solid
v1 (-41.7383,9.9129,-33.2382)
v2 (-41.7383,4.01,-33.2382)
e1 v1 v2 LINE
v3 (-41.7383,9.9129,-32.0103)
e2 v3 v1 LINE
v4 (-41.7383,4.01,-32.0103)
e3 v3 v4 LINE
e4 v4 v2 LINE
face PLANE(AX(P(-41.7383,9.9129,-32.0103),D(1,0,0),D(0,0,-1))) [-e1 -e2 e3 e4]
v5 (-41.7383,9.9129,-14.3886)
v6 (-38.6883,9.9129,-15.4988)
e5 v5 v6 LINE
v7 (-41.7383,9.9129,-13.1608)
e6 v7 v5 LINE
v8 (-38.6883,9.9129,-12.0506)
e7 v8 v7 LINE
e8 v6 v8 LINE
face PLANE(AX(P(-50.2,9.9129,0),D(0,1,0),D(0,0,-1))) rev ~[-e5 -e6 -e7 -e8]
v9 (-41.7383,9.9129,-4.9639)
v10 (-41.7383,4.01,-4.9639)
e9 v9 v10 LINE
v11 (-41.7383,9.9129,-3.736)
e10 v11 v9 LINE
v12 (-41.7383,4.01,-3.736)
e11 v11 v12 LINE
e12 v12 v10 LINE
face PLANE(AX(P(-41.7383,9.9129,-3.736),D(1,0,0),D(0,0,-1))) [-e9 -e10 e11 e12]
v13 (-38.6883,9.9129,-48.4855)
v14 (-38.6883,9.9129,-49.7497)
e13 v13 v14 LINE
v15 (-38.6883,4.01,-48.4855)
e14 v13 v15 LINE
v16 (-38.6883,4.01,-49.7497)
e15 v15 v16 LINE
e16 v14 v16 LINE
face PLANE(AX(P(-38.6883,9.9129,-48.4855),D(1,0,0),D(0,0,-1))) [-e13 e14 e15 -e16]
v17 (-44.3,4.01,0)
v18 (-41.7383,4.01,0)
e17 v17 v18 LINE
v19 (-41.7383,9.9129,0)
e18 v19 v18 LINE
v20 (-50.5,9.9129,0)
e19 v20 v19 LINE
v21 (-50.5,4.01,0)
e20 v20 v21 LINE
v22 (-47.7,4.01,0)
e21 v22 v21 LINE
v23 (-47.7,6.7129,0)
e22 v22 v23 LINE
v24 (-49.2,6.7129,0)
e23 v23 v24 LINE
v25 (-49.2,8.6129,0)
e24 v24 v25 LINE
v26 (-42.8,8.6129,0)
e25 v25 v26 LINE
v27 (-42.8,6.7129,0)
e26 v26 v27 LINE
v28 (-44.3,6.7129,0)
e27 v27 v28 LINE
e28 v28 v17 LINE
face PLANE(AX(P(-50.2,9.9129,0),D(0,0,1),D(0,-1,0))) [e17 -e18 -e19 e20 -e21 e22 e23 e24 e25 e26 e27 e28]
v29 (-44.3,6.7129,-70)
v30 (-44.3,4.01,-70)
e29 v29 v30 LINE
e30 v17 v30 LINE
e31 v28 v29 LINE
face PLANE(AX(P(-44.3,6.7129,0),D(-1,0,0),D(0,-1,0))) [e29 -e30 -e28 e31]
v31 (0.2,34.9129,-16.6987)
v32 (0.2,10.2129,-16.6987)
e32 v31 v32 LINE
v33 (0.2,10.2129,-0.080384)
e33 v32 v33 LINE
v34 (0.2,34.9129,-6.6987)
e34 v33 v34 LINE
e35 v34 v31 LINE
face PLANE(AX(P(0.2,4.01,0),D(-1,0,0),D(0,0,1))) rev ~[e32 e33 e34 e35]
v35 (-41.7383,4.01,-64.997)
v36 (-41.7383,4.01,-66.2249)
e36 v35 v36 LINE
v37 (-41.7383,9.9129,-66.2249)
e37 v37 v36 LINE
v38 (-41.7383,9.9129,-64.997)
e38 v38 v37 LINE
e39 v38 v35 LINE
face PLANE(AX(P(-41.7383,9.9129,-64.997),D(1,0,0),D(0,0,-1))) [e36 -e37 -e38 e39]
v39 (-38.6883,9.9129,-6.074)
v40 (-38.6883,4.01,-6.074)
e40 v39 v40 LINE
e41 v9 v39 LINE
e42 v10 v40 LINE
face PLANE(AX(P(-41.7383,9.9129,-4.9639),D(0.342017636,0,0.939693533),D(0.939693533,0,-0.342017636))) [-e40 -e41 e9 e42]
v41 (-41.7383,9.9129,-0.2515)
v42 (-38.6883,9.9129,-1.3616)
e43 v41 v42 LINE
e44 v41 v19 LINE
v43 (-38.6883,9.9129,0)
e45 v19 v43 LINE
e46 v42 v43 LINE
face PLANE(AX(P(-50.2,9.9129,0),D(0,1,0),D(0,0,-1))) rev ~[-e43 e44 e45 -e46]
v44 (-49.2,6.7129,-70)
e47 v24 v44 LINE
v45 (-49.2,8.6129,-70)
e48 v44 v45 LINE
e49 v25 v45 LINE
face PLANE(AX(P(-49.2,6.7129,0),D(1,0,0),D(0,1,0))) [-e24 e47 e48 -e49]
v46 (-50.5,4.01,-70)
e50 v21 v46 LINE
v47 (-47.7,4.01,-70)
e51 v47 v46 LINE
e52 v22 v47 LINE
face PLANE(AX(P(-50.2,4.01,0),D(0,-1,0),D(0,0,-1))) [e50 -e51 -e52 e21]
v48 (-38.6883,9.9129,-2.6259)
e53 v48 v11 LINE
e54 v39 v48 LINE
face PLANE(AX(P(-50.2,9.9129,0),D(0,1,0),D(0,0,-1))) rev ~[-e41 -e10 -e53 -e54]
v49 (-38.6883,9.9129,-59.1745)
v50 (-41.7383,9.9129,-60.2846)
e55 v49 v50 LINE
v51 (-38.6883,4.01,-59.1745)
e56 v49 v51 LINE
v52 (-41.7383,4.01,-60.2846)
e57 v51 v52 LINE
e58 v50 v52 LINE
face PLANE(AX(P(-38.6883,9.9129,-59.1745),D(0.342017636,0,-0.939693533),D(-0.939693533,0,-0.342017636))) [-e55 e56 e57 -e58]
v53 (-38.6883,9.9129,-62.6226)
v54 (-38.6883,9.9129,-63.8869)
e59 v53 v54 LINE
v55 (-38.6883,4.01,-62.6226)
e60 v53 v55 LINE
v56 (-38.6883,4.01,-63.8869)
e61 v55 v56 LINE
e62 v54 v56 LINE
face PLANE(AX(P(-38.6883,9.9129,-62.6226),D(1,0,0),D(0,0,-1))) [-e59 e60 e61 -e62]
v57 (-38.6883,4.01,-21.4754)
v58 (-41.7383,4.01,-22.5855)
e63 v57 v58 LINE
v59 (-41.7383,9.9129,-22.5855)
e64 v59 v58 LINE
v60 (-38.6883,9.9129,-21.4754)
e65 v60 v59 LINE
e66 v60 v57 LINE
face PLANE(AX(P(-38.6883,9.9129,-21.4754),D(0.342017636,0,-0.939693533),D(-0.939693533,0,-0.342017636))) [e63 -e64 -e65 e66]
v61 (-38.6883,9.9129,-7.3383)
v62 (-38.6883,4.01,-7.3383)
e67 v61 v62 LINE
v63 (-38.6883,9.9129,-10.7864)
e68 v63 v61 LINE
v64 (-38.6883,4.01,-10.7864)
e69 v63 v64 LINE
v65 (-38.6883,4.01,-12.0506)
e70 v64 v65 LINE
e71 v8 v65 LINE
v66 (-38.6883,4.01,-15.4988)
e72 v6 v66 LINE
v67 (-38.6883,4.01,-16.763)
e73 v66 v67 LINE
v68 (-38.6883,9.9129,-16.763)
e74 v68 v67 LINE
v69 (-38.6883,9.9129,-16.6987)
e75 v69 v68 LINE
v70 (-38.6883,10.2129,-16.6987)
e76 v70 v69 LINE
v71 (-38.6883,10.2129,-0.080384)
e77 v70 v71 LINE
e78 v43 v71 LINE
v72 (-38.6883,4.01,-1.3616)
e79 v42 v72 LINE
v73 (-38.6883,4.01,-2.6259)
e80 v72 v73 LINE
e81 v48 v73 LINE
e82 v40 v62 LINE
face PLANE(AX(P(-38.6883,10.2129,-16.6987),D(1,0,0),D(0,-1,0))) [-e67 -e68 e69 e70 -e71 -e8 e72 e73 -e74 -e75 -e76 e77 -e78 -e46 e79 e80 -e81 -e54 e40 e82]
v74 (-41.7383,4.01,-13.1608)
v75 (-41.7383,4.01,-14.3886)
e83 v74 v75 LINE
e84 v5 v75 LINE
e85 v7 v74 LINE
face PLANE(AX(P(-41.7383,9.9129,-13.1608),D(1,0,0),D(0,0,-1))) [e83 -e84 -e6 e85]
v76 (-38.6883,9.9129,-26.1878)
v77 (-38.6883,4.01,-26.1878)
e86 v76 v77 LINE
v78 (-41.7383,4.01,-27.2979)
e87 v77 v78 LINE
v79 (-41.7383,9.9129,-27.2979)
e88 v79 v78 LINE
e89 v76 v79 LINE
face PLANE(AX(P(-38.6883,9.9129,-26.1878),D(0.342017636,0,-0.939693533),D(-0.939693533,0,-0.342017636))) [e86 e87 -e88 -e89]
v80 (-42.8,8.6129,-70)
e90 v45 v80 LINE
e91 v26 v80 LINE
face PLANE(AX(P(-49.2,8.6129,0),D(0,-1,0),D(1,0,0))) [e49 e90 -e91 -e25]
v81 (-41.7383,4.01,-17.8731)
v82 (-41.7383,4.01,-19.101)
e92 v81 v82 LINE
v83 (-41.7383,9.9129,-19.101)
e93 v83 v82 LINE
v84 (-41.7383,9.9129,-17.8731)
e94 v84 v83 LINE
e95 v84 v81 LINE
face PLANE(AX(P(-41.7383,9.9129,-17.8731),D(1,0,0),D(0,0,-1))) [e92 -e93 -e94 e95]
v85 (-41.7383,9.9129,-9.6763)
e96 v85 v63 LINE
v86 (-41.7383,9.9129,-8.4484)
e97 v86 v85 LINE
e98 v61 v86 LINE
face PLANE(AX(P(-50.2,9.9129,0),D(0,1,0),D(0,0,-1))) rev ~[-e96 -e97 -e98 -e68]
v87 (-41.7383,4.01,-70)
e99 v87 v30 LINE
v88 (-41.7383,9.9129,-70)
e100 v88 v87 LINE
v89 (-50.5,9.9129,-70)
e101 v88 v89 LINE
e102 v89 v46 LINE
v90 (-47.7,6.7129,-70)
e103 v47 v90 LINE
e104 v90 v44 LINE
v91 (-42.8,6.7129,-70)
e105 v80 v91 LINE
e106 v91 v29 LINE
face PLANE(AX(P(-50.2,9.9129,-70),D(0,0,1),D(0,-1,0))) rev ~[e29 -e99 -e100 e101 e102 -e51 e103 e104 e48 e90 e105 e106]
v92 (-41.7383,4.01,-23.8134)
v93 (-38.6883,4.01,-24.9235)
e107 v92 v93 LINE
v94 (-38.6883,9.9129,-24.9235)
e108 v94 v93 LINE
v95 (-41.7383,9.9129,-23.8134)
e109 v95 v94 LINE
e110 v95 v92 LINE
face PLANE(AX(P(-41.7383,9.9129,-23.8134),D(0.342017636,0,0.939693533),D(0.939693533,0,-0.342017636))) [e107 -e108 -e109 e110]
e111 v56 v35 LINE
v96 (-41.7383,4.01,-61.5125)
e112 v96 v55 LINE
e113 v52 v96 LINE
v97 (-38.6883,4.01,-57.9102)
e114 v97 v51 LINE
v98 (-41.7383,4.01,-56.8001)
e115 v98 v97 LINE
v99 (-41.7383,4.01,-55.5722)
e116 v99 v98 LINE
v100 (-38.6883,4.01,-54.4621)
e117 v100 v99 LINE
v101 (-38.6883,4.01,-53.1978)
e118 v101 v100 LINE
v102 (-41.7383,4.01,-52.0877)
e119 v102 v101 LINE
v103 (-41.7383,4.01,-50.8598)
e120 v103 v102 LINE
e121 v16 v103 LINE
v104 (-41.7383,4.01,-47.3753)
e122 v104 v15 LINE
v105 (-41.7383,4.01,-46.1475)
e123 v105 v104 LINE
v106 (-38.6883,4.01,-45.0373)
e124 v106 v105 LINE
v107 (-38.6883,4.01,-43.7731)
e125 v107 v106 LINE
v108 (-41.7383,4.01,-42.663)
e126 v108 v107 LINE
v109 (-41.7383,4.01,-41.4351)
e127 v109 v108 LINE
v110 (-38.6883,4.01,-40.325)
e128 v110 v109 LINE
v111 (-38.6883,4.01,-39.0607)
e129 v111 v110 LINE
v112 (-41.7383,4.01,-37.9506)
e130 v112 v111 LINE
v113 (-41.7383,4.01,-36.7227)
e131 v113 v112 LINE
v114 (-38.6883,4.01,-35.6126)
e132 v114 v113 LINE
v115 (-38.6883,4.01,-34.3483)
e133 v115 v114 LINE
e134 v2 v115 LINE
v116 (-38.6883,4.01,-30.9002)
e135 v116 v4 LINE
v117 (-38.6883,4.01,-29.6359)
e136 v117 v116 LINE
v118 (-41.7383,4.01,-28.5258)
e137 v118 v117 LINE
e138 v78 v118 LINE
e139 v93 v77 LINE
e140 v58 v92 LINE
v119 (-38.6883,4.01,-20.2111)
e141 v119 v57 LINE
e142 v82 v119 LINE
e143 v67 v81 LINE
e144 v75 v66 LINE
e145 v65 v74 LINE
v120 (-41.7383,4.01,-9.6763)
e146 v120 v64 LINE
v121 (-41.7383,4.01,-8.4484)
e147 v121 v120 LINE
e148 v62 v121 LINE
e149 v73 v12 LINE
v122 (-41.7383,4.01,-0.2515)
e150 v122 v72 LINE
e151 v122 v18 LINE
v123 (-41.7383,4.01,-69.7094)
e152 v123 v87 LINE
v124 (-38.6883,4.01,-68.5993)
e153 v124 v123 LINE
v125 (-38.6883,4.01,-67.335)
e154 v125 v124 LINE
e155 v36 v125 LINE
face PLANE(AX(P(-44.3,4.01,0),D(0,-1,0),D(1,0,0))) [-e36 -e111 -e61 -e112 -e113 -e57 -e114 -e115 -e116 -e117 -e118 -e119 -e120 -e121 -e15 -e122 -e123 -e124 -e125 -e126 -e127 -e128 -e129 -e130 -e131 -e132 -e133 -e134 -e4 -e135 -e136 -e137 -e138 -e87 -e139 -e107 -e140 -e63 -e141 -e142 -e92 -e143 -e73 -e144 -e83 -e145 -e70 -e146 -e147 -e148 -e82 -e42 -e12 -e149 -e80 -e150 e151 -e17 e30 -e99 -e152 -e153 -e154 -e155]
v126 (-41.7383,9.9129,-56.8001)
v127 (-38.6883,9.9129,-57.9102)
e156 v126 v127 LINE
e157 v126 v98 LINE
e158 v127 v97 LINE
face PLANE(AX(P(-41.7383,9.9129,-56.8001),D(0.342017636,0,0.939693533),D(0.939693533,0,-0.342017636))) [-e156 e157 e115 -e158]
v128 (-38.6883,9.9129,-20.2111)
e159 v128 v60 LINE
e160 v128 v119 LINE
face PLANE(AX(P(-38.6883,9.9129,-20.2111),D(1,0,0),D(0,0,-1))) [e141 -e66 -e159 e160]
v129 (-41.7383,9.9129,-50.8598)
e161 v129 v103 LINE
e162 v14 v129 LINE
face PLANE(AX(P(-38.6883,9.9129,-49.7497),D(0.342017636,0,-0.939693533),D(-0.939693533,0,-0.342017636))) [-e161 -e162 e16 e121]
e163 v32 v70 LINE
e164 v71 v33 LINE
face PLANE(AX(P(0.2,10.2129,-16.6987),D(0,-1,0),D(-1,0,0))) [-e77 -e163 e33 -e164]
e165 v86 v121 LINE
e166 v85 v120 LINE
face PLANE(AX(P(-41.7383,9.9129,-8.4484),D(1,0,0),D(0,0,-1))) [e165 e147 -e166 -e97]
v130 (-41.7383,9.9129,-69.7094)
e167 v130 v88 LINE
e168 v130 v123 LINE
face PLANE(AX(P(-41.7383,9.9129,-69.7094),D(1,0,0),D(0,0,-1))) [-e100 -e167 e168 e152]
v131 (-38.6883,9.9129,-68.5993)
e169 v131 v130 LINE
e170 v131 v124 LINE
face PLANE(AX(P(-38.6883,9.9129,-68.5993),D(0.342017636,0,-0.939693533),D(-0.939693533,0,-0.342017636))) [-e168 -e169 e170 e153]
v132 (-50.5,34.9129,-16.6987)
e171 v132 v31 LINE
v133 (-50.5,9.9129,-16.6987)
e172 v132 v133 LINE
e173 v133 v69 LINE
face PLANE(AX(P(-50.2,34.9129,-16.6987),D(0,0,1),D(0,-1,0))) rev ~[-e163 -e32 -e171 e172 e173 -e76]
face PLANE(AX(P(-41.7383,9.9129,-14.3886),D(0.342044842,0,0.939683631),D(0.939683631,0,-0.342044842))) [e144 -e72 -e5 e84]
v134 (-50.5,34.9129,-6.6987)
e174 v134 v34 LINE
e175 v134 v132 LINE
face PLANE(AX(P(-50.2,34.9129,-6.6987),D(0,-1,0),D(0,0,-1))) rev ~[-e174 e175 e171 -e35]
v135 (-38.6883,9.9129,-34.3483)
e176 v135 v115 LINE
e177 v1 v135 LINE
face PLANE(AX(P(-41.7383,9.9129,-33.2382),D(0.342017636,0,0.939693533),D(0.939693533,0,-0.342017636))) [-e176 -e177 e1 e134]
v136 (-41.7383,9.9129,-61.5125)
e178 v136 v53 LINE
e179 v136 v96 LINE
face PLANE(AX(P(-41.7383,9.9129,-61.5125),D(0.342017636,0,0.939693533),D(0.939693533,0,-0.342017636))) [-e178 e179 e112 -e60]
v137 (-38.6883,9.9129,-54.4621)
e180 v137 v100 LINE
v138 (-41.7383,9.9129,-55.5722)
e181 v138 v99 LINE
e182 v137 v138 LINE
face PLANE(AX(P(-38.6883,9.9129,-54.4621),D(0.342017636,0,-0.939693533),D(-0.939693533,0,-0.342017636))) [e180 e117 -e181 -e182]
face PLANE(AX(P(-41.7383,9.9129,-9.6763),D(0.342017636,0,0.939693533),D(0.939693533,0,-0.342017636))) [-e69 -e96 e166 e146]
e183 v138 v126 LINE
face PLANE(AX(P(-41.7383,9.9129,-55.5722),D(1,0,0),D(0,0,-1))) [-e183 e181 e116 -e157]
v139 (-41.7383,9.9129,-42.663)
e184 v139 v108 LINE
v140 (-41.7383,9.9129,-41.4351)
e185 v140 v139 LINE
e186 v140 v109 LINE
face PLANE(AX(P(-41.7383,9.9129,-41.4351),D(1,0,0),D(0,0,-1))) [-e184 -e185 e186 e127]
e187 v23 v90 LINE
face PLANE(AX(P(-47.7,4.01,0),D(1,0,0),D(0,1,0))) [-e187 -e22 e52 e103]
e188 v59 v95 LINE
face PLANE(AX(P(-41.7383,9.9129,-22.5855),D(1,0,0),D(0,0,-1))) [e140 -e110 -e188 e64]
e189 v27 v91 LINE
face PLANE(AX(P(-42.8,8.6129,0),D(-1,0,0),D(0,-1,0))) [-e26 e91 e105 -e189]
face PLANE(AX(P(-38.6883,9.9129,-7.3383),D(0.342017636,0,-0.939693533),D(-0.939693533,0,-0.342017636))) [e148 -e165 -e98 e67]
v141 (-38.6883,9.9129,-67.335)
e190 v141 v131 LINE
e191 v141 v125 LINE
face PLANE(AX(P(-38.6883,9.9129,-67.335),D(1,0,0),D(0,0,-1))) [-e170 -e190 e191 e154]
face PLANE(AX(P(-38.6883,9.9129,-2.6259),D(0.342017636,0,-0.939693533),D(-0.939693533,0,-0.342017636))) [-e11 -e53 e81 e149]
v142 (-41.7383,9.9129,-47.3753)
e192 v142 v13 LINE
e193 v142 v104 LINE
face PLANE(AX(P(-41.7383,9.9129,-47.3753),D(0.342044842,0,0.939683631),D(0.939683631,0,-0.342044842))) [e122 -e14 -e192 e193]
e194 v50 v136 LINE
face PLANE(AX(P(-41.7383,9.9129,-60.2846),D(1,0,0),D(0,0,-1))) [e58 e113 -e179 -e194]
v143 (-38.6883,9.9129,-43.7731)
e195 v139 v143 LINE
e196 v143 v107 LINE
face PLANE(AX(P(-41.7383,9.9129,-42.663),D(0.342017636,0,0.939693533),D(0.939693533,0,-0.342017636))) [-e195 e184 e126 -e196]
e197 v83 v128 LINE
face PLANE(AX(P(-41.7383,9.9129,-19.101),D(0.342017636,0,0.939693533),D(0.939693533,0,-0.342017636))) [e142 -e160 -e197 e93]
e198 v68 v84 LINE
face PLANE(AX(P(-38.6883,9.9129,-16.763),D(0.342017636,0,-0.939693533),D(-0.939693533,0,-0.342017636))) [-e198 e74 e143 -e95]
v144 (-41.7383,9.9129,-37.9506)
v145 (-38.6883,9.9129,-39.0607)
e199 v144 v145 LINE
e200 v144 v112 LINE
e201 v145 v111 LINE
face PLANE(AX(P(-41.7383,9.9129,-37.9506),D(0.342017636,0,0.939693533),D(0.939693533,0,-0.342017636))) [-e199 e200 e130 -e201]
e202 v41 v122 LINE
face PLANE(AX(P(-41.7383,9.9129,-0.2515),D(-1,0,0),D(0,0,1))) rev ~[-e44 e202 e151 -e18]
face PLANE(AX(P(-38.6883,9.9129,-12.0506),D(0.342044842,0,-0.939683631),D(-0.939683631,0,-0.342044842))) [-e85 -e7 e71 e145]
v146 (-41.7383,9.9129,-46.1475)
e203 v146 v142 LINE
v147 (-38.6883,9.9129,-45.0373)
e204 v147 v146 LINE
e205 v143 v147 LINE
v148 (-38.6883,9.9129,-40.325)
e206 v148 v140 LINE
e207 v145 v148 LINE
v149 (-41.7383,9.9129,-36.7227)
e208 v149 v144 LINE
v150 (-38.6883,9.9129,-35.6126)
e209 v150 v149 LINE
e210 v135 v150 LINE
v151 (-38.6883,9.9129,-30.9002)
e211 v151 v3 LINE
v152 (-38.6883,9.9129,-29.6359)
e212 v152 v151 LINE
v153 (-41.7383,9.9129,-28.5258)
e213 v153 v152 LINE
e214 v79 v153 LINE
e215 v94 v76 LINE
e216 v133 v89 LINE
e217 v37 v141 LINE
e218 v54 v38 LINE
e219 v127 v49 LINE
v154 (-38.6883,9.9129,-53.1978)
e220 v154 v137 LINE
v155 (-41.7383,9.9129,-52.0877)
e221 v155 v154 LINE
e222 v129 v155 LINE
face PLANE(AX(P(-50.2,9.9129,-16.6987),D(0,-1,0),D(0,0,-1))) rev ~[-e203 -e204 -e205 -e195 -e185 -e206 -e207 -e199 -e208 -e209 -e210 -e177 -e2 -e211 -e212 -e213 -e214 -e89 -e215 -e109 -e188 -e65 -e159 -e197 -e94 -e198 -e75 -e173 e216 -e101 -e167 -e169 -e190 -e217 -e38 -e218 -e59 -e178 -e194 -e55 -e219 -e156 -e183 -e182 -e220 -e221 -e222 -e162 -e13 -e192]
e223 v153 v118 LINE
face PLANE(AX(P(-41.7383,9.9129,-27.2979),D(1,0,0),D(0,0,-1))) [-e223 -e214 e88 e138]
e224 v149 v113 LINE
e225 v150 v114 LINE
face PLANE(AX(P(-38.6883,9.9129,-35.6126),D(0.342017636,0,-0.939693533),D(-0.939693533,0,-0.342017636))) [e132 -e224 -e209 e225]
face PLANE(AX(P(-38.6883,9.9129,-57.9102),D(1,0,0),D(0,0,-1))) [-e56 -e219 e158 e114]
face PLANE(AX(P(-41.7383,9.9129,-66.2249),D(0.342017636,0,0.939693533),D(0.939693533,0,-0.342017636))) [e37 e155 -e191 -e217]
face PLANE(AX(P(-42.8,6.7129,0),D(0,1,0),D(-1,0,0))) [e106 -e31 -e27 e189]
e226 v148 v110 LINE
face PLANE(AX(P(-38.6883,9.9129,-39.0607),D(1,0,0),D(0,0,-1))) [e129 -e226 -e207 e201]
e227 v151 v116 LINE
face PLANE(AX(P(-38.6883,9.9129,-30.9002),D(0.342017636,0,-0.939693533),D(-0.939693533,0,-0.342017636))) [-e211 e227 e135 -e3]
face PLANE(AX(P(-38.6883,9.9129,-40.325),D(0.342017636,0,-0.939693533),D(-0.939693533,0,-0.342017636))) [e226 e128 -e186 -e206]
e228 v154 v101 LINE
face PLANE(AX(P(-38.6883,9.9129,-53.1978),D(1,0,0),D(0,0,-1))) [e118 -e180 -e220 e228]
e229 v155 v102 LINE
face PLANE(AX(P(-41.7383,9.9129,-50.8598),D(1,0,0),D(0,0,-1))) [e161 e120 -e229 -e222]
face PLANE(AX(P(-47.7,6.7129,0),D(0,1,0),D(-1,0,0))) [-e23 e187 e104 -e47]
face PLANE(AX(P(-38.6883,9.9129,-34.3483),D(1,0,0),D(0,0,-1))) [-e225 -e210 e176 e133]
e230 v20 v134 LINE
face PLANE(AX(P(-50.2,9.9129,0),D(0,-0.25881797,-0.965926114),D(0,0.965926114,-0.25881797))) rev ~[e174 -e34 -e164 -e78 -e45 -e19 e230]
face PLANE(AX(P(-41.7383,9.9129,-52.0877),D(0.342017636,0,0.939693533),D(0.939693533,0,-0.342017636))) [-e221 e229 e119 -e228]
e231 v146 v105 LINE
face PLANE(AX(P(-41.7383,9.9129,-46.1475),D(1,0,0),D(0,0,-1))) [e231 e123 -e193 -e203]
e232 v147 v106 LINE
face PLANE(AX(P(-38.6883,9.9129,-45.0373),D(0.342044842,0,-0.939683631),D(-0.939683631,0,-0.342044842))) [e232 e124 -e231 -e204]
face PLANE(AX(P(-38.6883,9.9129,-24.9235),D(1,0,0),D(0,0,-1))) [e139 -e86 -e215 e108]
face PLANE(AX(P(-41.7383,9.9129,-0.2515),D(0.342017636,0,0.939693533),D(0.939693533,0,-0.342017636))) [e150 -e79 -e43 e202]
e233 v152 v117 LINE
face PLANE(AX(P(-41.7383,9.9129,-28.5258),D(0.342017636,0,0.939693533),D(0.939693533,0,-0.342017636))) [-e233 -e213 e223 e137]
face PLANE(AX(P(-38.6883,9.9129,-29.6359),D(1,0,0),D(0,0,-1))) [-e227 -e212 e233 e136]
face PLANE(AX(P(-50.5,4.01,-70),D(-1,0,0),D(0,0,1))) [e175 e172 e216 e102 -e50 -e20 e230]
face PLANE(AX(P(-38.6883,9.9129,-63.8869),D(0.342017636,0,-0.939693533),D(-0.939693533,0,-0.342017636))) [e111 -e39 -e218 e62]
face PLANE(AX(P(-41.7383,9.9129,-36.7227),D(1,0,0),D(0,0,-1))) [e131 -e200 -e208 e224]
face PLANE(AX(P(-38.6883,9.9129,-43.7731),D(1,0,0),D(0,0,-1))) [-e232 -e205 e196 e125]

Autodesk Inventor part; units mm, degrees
ref_plane "YZ Plane" through (0, 0, 0) normal (1, 0, 0) x (0, 1, 0)
ref_plane "XZ Plane" through (0, 0, 0) normal (0, 1, 0) x (-1, 0, 0)
sketch "草圖1" plane through (0, 0, 0) normal (0, 0, 1) x (1, 0, 0)
  line L0 (0, -4.2926) -> (-50, -4.2926) projected
  line L1 (0, -4.2926) -> (0, 3.81) projected
  line L2 (0, 3.81) -> (-2.5, 3.81) projected
  line L3 (-2.5, 3.81) -> (-2.5, 6.9129) projected
  line L4 (-2.5, 6.9129) -> (-1, 6.9129) projected
  line L5 (-1, 6.9129) -> (-1, 8.4129) projected
  line L6 (-1, 8.4129) -> (-7, 8.4129) projected
  line L7 (-7, 8.4129) -> (-7, 6.9129) projected
  line L8 (-7, 6.9129) -> (-5.5, 6.9129) projected
  line L9 (-5.5, 6.9129) -> (-5.5, 3.81) projected
  line L10 (-5.5, 3.81) -> (-44.5, 3.81) projected
  line L11 (-44.5, 3.81) -> (-44.5, 6.9129) projected
  line L12 (-44.5, 6.9129) -> (-43, 6.9129) projected
  line L13 (-43, 6.9129) -> (-43, 8.4129) projected
  line L14 (-43, 8.4129) -> (-49, 8.4129) projected
  line L15 (-49, 8.4129) -> (-49, 6.9129) projected
  line L16 (-49, 6.9129) -> (-47.5, 6.9129) projected
  line L17 (-47.5, 6.9129) -> (-47.5, 3.81) projected
  line L18 (-47.5, 3.81) -> (-50, 3.81) projected
  line L19 (-50, -4.2926) -> (-50, 3.81) projected
  line L20 (-44.3, 6.7129) -> (-44.3, 4.01)
  line L21 (-44.3, 4.01) -> (-5.7, 4.01)
  line L22 (-5.7, 4.01) -> (-5.7, 6.7129)
  line L23 (-5.7, 6.7129) -> (-7.2, 6.7129)
  line L24 (-7.2, 6.7129) -> (-7.2, 8.6129)
  line L25 (-7.2, 8.6129) -> (-0.8, 8.6129)
  line L26 (-0.8, 8.6129) -> (-0.8, 6.7129)
  line L27 (-0.8, 6.7129) -> (-2.3, 6.7129)
  line L28 (-2.3, 6.7129) -> (-2.3, 4.01)
  line L29 (-2.3, 4.01) -> (0.2, 4.01)
  line L30 (0.2, 4.01) -> (0.2, -4.4926)
  line L31 (0.2, -4.4926) -> (-50.2, -4.4926)
  line L32 (-50.2, -4.4926) -> (-50.2, 4.01)
  line L33 (-50.2, 4.01) -> (-47.7, 4.01)
  line L34 (-47.7, 4.01) -> (-47.7, 6.7129)
  line L35 (-47.7, 6.7129) -> (-49.2, 6.7129)
  line L36 (-49.2, 6.7129) -> (-49.2, 8.6129)
  line L37 (-49.2, 8.6129) -> (-42.8, 8.6129)
  line L38 (-42.8, 8.6129) -> (-42.8, 6.7129)
  line L39 (-42.8, 6.7129) -> (-44.3, 6.7129)
  line L40 (-50.2, 4.01) -> (-50.2, 9.9129)
  line L41 (-50.2, 9.9129) -> (-41.8, 9.9129)
  line L42 (-41.8, 9.9129) -> (-41.8, 4.01)
  line L43 (-41.8, 6.7405) -> (-41.8, 4.0405)
  point P0 (0, 0)
  point P1 (-41.8, 5.3905)
  dimension "d0" = 0.2
  dimension "d3" = 1
  dimension "d4" = 1.3
ref_plane "工作平面1" through (-50, -4.2926, -70) normal (0, 0, -1) x (0, 1, 0)
extrude "擠出1" add sketch "草圖1" against normal up to surface (70 mm away) contours L39 L38 L37 L36 L35 L34 L33 L40 L41 L42 L21 L20
sketch "草圖2" plane through (-50.2, 9.9129, 0) normal (0, 1, 0) x (1, 0, 0)
  line L0 (8.4617, 19.101) -> (11.5117, 20.2111)
  line L1 (11.5117, 20.2111) -> (11.5117, 21.4754)
  line L2 (11.5117, 21.4754) -> (8.4617, 22.5855)
  line L3 (8.4617, 22.5855) -> (8.4617, 23.8134)
  line L4 (8.4617, 23.8134) -> (11.5117, 24.9235)
  line L5 (11.5117, 24.9235) -> (11.5117, 26.1878)
  line L6 (11.5117, 26.1878) -> (8.4617, 27.2979)
  line L7 (8.4617, 27.2979) -> (8.4617, 28.5258)
  line L8 (8.4617, 28.5258) -> (11.5117, 29.6359)
  line L9 (11.5117, 29.6359) -> (11.5117, 30.9002)
  line L10 (11.5117, 30.9002) -> (8.4617, 32.0103)
  line L11 (8.4617, 32.0103) -> (8.4617, 33.2382)
  line L12 (8.4617, 33.2382) -> (11.5117, 34.3483)
  line L13 (11.5117, 34.3483) -> (11.5117, 35.6126)
  line L14 (11.5117, 35.6126) -> (8.4617, 36.7227)
  line L15 (8.4617, 36.7227) -> (8.4617, 37.9506)
  line L16 (8.4617, 37.9506) -> (11.5117, 39.0607)
  line L17 (11.5117, 39.0607) -> (11.5117, 40.325)
  line L18 (11.5117, 40.325) -> (8.4617, 41.4351)
  line L19 (8.4617, 41.4351) -> (8.4617, 42.663)
  line L20 (8.4617, 42.663) -> (11.5117, 43.7731)
  line L21 (11.5117, 43.7731) -> (11.5117, 45.0373)
  line L22 (11.5117, 45.0373) -> (8.4617, 46.1475)
  line L23 (8.4617, 46.1475) -> (8.4617, 47.3753)
  line L24 (8.4617, 47.3753) -> (11.5117, 48.4855)
  line L25 (11.5117, 48.4855) -> (11.5117, 49.7497)
  line L26 (11.5117, 49.7497) -> (8.4617, 50.8598)
  circle A0 centre (25.2, 35) radius 1.15 projected
  spline S0 degree 3 poles (28.303, 18.8298) (28.3918, 19.076) (28.7004, 19.9315) (28.7388, 21.2949) (28.6496, 21.419) (28.6524, 21.7961) (28.6611, 21.9313) (28.7622, 22.2015) (28.8309, 22.282) (28.9256, 22.387) (29.0049, 22.4333) (29.139, 22.5114) (29.2816, 22.5522) (29.5147, 22.6052) (29.6038, 22.5977) (29.679, 22.5914) (29.7699, 22.5777) (29.9387, 22.4894) (30.0374, 22.4306) (30.278, 22.1628) (30.3615, 21.9889) (30.5339, 21.6254) (30.761, 21.3363) (31.4807, 20.5784) (31.9907, 20.2322) (32.1942, 20.0941) knots 0 0 0 0 0.078525 0.078525 0.123346 0.123346 0.136441 0.136441 0.149096 0.149096 0.177084 0.177084 0.558526 0.558526 0.807734 0.807734 2.330173 2.330173 3.026337 3.026337 3.902772 3.902772 11.004243 11.004243 24.626338 24.626338 24.626338 24.626338 projected
  arc A1 (32.1942, 20.0941) -> (33.148, 20.5801) centre (25.2, 35) ccw projected
  spline S1 degree 3 poles (33.148, 20.5801) (33.1564, 20.8417) (33.1855, 21.7507) (32.8007, 23.0592) (32.6775, 23.1497) (32.5637, 23.5092) (32.5301, 23.6405) (32.5428, 23.9287) (32.5833, 24.0265) (32.6409, 24.1556) (32.702, 24.2241) (32.8054, 24.3399) (32.9285, 24.4227) (33.1337, 24.5452) (33.2208, 24.5656) (33.2942, 24.5828) (33.3849, 24.5979) (33.5727, 24.566) (33.6848, 24.5406) (33.9964, 24.3602) (34.1295, 24.2207) (34.4058, 23.9282) (34.7112, 23.7235) (35.6298, 23.2251) (36.2218, 23.0535) (36.458, 22.985) knots 0 0 0 0 0.078525 0.078525 0.123346 0.123346 0.136441 0.136441 0.149096 0.149096 0.177084 0.177084 0.558526 0.558526 0.807734 0.807734 2.330173 2.330173 3.026337 3.026337 3.902772 3.902772 11.004243 11.004243 24.626338 24.626338 24.626338 24.626338 projected
  arc A2 (36.458, 22.985) -> (37.215, 23.742) centre (25.2, 35) ccw projected
  spline S2 degree 3 poles (37.215, 23.742) (37.1421, 23.9934) (36.889, 24.8668) (36.1186, 25.9924) (35.9735, 26.0404) (35.7541, 26.3471) (35.6817, 26.4616) (35.6047, 26.7396) (35.6129, 26.8451) (35.6278, 26.9857) (35.6648, 27.0698) (35.7273, 27.2118) (35.8188, 27.3286) (35.9762, 27.5085) (36.0526, 27.5549) (36.1172, 27.5939) (36.1988, 27.6363) (36.3872, 27.664) (36.5016, 27.6744) (36.8537, 27.5992) (37.0234, 27.5077) (37.3766, 27.3148) (37.7303, 27.2145) (38.758, 27.0244) (39.3741, 27.0441) (39.6199, 27.052) knots 0 0 0 0 0.078525 0.078525 0.123346 0.123346 0.136441 0.136441 0.149096 0.149096 0.177084 0.177084 0.558526 0.558526 0.807734 0.807734 2.330173 2.330173 3.026337 3.026337 3.902772 3.902772 11.004243 11.004243 24.626338 24.626338 24.626338 24.626338 projected
  arc A3 (39.6199, 27.052) -> (40.1059, 28.0058) centre (25.2, 35) ccw projected
  spline S3 degree 3 poles (40.1059, 28.0058) (39.9589, 28.2224) (39.4482, 28.9749) (38.3677, 29.8073) (38.2149, 29.8081) (37.9115, 30.032) (37.8072, 30.1185) (37.648, 30.3591) (37.6233, 30.462) (37.594, 30.6003) (37.6032, 30.6917) (37.6187, 30.8461) (37.6696, 30.9855) (37.7637, 31.2052) (37.8221, 31.2729) (37.8714, 31.33) (37.9359, 31.3955) (38.1066, 31.4801) (38.2122, 31.5254) (38.5703, 31.5626) (38.76, 31.528) (39.1555, 31.4538) (39.5228, 31.4677) (40.559, 31.6044) (41.1388, 31.8135) (41.3702, 31.897) knots 0 0 0 0 0.078525 0.078525 0.123346 0.123346 0.136441 0.136441 0.149096 0.149096 0.177084 0.177084 0.558526 0.558526 0.807734 0.807734 2.330173 2.330173 3.026337 3.026337 3.902772 3.902772 11.004243 11.004243 24.626338 24.626338 24.626338 24.626338 projected
  arc A4 (41.3702, 31.897) -> (41.5376, 32.9543) centre (25.2, 35) ccw projected
  spline S4 degree 3 poles (41.5376, 32.9543) (41.3309, 33.1148) (40.6127, 33.6727) (39.3279, 34.1305) (39.1823, 34.0841) (38.8245, 34.2032) (38.6986, 34.2532) (38.4729, 34.4329) (38.4176, 34.5231) (38.3469, 34.6456) (38.3275, 34.7353) (38.2946, 34.887) (38.2999, 35.0353) (38.3215, 35.2733) (38.3561, 35.3558) (38.3854, 35.4253) (38.4264, 35.5076) (38.5627, 35.6407) (38.6491, 35.7164) (38.9781, 35.8625) (39.1693, 35.8882) (39.5683, 35.9398) (39.9134, 36.0665) (40.8566, 36.5168) (41.3434, 36.8949) (41.5376, 37.0457) knots 0 0 0 0 0.078525 0.078525 0.123346 0.123346 0.136441 0.136441 0.149096 0.149096 0.177084 0.177084 0.558526 0.558526 0.807734 0.807734 2.330173 2.330173 3.026337 3.026337 3.902772 3.902772 11.004243 11.004243 24.626338 24.626338 24.626338 24.626338 projected
  arc A5 (41.5376, 37.0457) -> (41.3702, 38.103) centre (25.2, 35) ccw projected
  spline S5 degree 3 poles (41.3702, 38.103) (41.124, 38.1918) (40.2685, 38.5004) (38.9051, 38.5388) (38.781, 38.4496) (38.4039, 38.4524) (38.2687, 38.4611) (37.9985, 38.5622) (37.918, 38.6309) (37.813, 38.7256) (37.7667, 38.8049) (37.6886, 38.939) (37.6478, 39.0816) (37.5948, 39.3147) (37.6023, 39.4038) (37.6086, 39.479) (37.6223, 39.5699) (37.7106, 39.7387) (37.7694, 39.8374) (38.0372, 40.078) (38.2111, 40.1615) (38.5746, 40.3339) (38.8637, 40.561) (39.6216, 41.2807) (39.9678, 41.7907) (40.1059, 41.9942) knots 0 0 0 0 0.078525 0.078525 0.123346 0.123346 0.136441 0.136441 0.149096 0.149096 0.177084 0.177084 0.558526 0.558526 0.807734 0.807734 2.330173 2.330173 3.026337 3.026337 3.902772 3.902772 11.004243 11.004243 24.626338 24.626338 24.626338 24.626338 projected
  arc A6 (40.1059, 41.9942) -> (39.6199, 42.948) centre (25.2, 35) ccw projected
  spline S6 degree 3 poles (39.6199, 42.948) (39.3583, 42.9564) (38.4493, 42.9855) (37.1408, 42.6007) (37.0503, 42.4775) (36.6908, 42.3637) (36.5595, 42.3301) (36.2713, 42.3428) (36.1735, 42.3833) (36.0444, 42.4409) (35.9759, 42.502) (35.8601, 42.6054) (35.7773, 42.7285) (35.6548, 42.9337) (35.6344, 43.0208) (35.6172, 43.0942) (35.6021, 43.1849) (35.634, 43.3727) (35.6594, 43.4848) (35.8398, 43.7964) (35.9793, 43.9295) (36.2718, 44.2058) (36.4765, 44.5112) (36.9749, 45.4298) (37.1465, 46.0218) (37.215, 46.258) knots 0 0 0 0 0.078525 0.078525 0.123346 0.123346 0.136441 0.136441 0.149096 0.149096 0.177084 0.177084 0.558526 0.558526 0.807734 0.807734 2.330173 2.330173 3.026337 3.026337 3.902772 3.902772 11.004243 11.004243 24.626338 24.626338 24.626338 24.626338 projected
  arc A7 (37.215, 46.258) -> (36.458, 47.015) centre (25.2, 35) ccw projected
  spline S7 degree 3 poles (36.458, 47.015) (36.2066, 46.9421) (35.3332, 46.689) (34.2076, 45.9186) (34.1596, 45.7735) (33.8529, 45.5541) (33.7384, 45.4817) (33.4604, 45.4047) (33.3549, 45.4129) (33.2143, 45.4278) (33.1302, 45.4648) (32.9882, 45.5273) (32.8714, 45.6188) (32.6915, 45.7762) (32.6451, 45.8526) (32.6061, 45.9172) (32.5637, 45.9988) (32.536, 46.1872) (32.5256, 46.3016) (32.6008, 46.6537) (32.6923, 46.8234) (32.8852, 47.1766) (32.9855, 47.5303) (33.1756, 48.558) (33.1559, 49.1741) (33.148, 49.4199) knots 0 0 0 0 0.078525 0.078525 0.123346 0.123346 0.136441 0.136441 0.149096 0.149096 0.177084 0.177084 0.558526 0.558526 0.807734 0.807734 2.330173 2.330173 3.026337 3.026337 3.902772 3.902772 11.004242 11.004242 24.626338 24.626338 24.626338 24.626338 projected
  arc A8 (33.148, 49.4199) -> (32.1942, 49.9059) centre (25.2, 35) ccw projected
  spline S8 degree 3 poles (32.1942, 49.9059) (31.9776, 49.7589) (31.2251, 49.2482) (30.3927, 48.1677) (30.3919, 48.0149) (30.168, 47.7115) (30.0815, 47.6072) (29.8409, 47.448) (29.738, 47.4233) (29.5997, 47.394) (29.5083, 47.4032) (29.3539, 47.4187) (29.2145, 47.4696) (28.9948, 47.5637) (28.9271, 47.6221) (28.87, 47.6714) (28.8045, 47.7359) (28.7199, 47.9066) (28.6746, 48.0122) (28.6374, 48.3703) (28.672, 48.56) (28.7462, 48.9555) (28.7323, 49.3228) (28.5956, 50.359) (28.3865, 50.9388) (28.303, 51.1702) knots 0 0 0 0 0.078525 0.078525 0.123346 0.123346 0.136441 0.136441 0.149096 0.149096 0.177084 0.177084 0.558526 0.558526 0.807734 0.807734 2.330173 2.330173 3.026337 3.026337 3.902772 3.902772 11.004243 11.004243 24.626338 24.626338 24.626338 24.626338 projected
  arc A9 (28.303, 51.1702) -> (27.2457, 51.3376) centre (25.2, 35) ccw projected
  spline S9 degree 3 poles (27.2457, 51.3376) (27.0852, 51.1309) (26.5273, 50.4127) (26.0695, 49.1279) (26.1159, 48.9823) (25.9968, 48.6245) (25.9468, 48.4986) (25.7671, 48.2729) (25.6769, 48.2176) (25.5544, 48.1469) (25.4647, 48.1275) (25.313, 48.0946) (25.1647, 48.0999) (24.9267, 48.1215) (24.8442, 48.1561) (24.7747, 48.1854) (24.6924, 48.2264) (24.5593, 48.3627) (24.4836, 48.4491) (24.3375, 48.7781) (24.3118, 48.9693) (24.2602, 49.3683) (24.1335, 49.7134) (23.6832, 50.6566) (23.3051, 51.1434) (23.1543, 51.3376) knots 0 0 0 0 0.078525 0.078525 0.123346 0.123346 0.136441 0.136441 0.149096 0.149096 0.177084 0.177084 0.558526 0.558526 0.807734 0.807734 2.330173 2.330173 3.026337 3.026337 3.902772 3.902772 11.004243 11.004243 24.626338 24.626338 24.626338 24.626338 projected
  arc A10 (23.1543, 51.3376) -> (22.097, 51.1702) centre (25.2, 35) ccw projected
  spline S10 degree 3 poles (22.097, 51.1702) (22.0082, 50.924) (21.6996, 50.0685) (21.6612, 48.7051) (21.7504, 48.581) (21.7476, 48.2039) (21.7389, 48.0687) (21.6378, 47.7985) (21.5691, 47.718) (21.4744, 47.613) (21.3951, 47.5667) (21.261, 47.4886) (21.1184, 47.4478) (20.8853, 47.3948) (20.7962, 47.4023) (20.721, 47.4086) (20.6301, 47.4223) (20.4613, 47.5106) (20.3626, 47.5694) (20.122, 47.8372) (20.0385, 48.0111) (19.8661, 48.3746) (19.639, 48.6637) (18.9193, 49.4216) (18.4093, 49.7678) (18.2058, 49.9059) knots 0 0 0 0 0.078525 0.078525 0.123346 0.123346 0.136441 0.136441 0.149096 0.149096 0.177084 0.177084 0.558526 0.558526 0.807734 0.807734 2.330173 2.330173 3.026337 3.026337 3.902772 3.902772 11.004242 11.004242 24.626338 24.626338 24.626338 24.626338 projected
  arc A11 (18.2058, 49.9059) -> (17.252, 49.4199) centre (25.2, 35) ccw projected
  spline S11 degree 3 poles (17.252, 49.4199) (17.2436, 49.1583) (17.2145, 48.2493) (17.5993, 46.9408) (17.7225, 46.8503) (17.8363, 46.4908) (17.8699, 46.3595) (17.8572, 46.0713) (17.8167, 45.9735) (17.7591, 45.8444) (17.698, 45.7759) (17.5946, 45.6601) (17.4715, 45.5773) (17.2663, 45.4548) (17.1792, 45.4344) (17.1058, 45.4172) (17.0151, 45.4021) (16.8273, 45.434) (16.7152, 45.4594) (16.4036, 45.6398) (16.2705, 45.7793) (15.9942, 46.0718) (15.6888, 46.2765) (14.7702, 46.7749) (14.1782, 46.9465) (13.942, 47.015) knots 0 0 0 0 0.078525 0.078525 0.123346 0.123346 0.136441 0.136441 0.149096 0.149096 0.177084 0.177084 0.558526 0.558526 0.807734 0.807734 2.330173 2.330173 3.026337 3.026337 3.902772 3.902772 11.004243 11.004243 24.626338 24.626338 24.626338 24.626338 projected
  arc A12 (13.942, 47.015) -> (13.185, 46.258) centre (25.2, 35) ccw projected
  spline S12 degree 3 poles (13.185, 46.258) (13.2579, 46.0066) (13.511, 45.1332) (14.2814, 44.0076) (14.4265, 43.9596) (14.6459, 43.6529) (14.7183, 43.5384) (14.7953, 43.2604) (14.7871, 43.1549) (14.7722, 43.0143) (14.7352, 42.9302) (14.6727, 42.7882) (14.5812, 42.6714) (14.4238, 42.4915) (14.3474, 42.4451) (14.2828, 42.4061) (14.2012, 42.3637) (14.0128, 42.336) (13.8984, 42.3256) (13.5463, 42.4008) (13.3766, 42.4923) (13.0234, 42.6852) (12.6697, 42.7855) (11.642, 42.9756) (11.0259, 42.9559) (10.7801, 42.948) knots 0 0 0 0 0.078525 0.078525 0.123346 0.123346 0.136441 0.136441 0.149096 0.149096 0.177084 0.177084 0.558526 0.558526 0.807734 0.807734 2.330173 2.330173 3.026337 3.026337 3.902772 3.902772 11.004242 11.004242 24.626338 24.626338 24.626338 24.626338 projected
  arc A13 (10.7801, 42.948) -> (10.2941, 41.9942) centre (25.2, 35) ccw projected
  spline S13 degree 3 poles (10.2941, 41.9942) (10.4411, 41.7776) (10.9518, 41.0251) (12.0323, 40.1927) (12.1851, 40.1919) (12.4885, 39.968) (12.5928, 39.8815) (12.752, 39.6409) (12.7767, 39.538) (12.806, 39.3997) (12.7968, 39.3083) (12.7813, 39.1539) (12.7304, 39.0145) (12.6363, 38.7948) (12.5779, 38.7271) (12.5286, 38.67) (12.4641, 38.6045) (12.2934, 38.5199) (12.1878, 38.4746) (11.8297, 38.4374) (11.64, 38.472) (11.2445, 38.5462) (10.8772, 38.5323) (9.841, 38.3956) (9.2612, 38.1865) (9.0298, 38.103) knots 0 0 0 0 0.078525 0.078525 0.123346 0.123346 0.136441 0.136441 0.149096 0.149096 0.177084 0.177084 0.558526 0.558526 0.807734 0.807734 2.330173 2.330173 3.026337 3.026337 3.902772 3.902772 11.004243 11.004243 24.626338 24.626338 24.626338 24.626338 projected
  arc A14 (9.0298, 38.103) -> (8.8624, 37.0457) centre (25.2, 35) ccw projected
  spline S14 degree 3 poles (8.8624, 37.0457) (9.0691, 36.8852) (9.7873, 36.3273) (11.0721, 35.8695) (11.2177, 35.9159) (11.5755, 35.7968) (11.7014, 35.7468) (11.9271, 35.5671) (11.9824, 35.4769) (12.0531, 35.3544) (12.0725, 35.2647) (12.1054, 35.113) (12.1001, 34.9647) (12.0785, 34.7267) (12.0439, 34.6442) (12.0146, 34.5747) (11.9736, 34.4924) (11.8373, 34.3593) (11.7509, 34.2836) (11.4219, 34.1375) (11.2307, 34.1118) (10.8317, 34.0602) (10.4866, 33.9335) (9.5434, 33.4832) (9.0566, 33.1051) (8.8624, 32.9543) knots 0 0 0 0 0.078525 0.078525 0.123346 0.123346 0.136441 0.136441 0.149096 0.149096 0.177084 0.177084 0.558526 0.558526 0.807734 0.807734 2.330173 2.330173 3.026337 3.026337 3.902772 3.902772 11.004243 11.004243 24.626338 24.626338 24.626338 24.626338 projected
  arc A15 (8.8624, 32.9543) -> (9.0298, 31.897) centre (25.2, 35) ccw projected
  spline S15 degree 3 poles (9.0298, 31.897) (9.276, 31.8082) (10.1315, 31.4996) (11.4949, 31.4612) (11.619, 31.5504) (11.9961, 31.5476) (12.1313, 31.5389) (12.4015, 31.4378) (12.482, 31.3691) (12.587, 31.2744) (12.6333, 31.1951) (12.7114, 31.061) (12.7522, 30.9184) (12.8052, 30.6853) (12.7977, 30.5962) (12.7914, 30.521) (12.7777, 30.4301) (12.6894, 30.2613) (12.6306, 30.1626) (12.3628, 29.922) (12.1889, 29.8385) (11.8254, 29.6661) (11.5363, 29.439) (10.7784, 28.7193) (10.4322, 28.2093) (10.2941, 28.0058) knots 0 0 0 0 0.078525 0.078525 0.123346 0.123346 0.136441 0.136441 0.149096 0.149096 0.177084 0.177084 0.558526 0.558526 0.807734 0.807734 2.330173 2.330173 3.026337 3.026337 3.902772 3.902772 11.004243 11.004243 24.626338 24.626338 24.626338 24.626338 projected
  arc A16 (10.2941, 28.0058) -> (10.7801, 27.052) centre (25.2, 35) ccw projected
  spline S16 degree 3 poles (10.7801, 27.052) (11.0417, 27.0436) (11.9507, 27.0145) (13.2592, 27.3993) (13.3497, 27.5225) (13.7092, 27.6363) (13.8405, 27.6699) (14.1287, 27.6572) (14.2265, 27.6167) (14.3556, 27.5591) (14.4241, 27.498) (14.5399, 27.3946) (14.6227, 27.2715) (14.7452, 27.0663) (14.7656, 26.9792) (14.7828, 26.9058) (14.7979, 26.8151) (14.766, 26.6273) (14.7406, 26.5152) (14.5602, 26.2036) (14.4207, 26.0705) (14.1282, 25.7942) (13.9235, 25.4888) (13.4251, 24.5702) (13.2535, 23.9782) (13.185, 23.742) knots 0 0 0 0 0.078525 0.078525 0.123346 0.123346 0.136441 0.136441 0.149096 0.149096 0.177084 0.177084 0.558526 0.558526 0.807734 0.807734 2.330173 2.330173 3.026337 3.026337 3.902772 3.902772 11.004243 11.004243 24.626338 24.626338 24.626338 24.626338 projected
  arc A17 (13.185, 23.742) -> (13.942, 22.985) centre (25.2, 35) ccw projected
  spline S17 degree 3 poles (13.942, 22.985) (14.1934, 23.0579) (15.0668, 23.311) (16.1924, 24.0814) (16.2404, 24.2265) (16.5471, 24.4459) (16.6616, 24.5183) (16.9396, 24.5953) (17.0451, 24.5871) (17.1857, 24.5722) (17.2698, 24.5352) (17.4118, 24.4727) (17.5286, 24.3812) (17.7085, 24.2238) (17.7549, 24.1474) (17.7939, 24.0828) (17.8363, 24.0012) (17.864, 23.8128) (17.8744, 23.6984) (17.7992, 23.3463) (17.7077, 23.1766) (17.5148, 22.8234) (17.4145, 22.4697) (17.2244, 21.442) (17.2441, 20.8259) (17.252, 20.5801) knots 0 0 0 0 0.078525 0.078525 0.123346 0.123346 0.136441 0.136441 0.149096 0.149096 0.177084 0.177084 0.558526 0.558526 0.807734 0.807734 2.330173 2.330173 3.026337 3.026337 3.902772 3.902772 11.004243 11.004243 24.626338 24.626338 24.626338 24.626338 projected
  arc A18 (17.252, 20.5801) -> (18.2058, 20.0941) centre (25.2, 35) ccw projected
  spline S18 degree 3 poles (18.2058, 20.0941) (18.4224, 20.2411) (19.1749, 20.7518) (20.0073, 21.8323) (20.0081, 21.9851) (20.232, 22.2885) (20.3185, 22.3928) (20.5591, 22.552) (20.662, 22.5767) (20.8003, 22.606) (20.8917, 22.5968) (21.0461, 22.5813) (21.1855, 22.5304) (21.4052, 22.4363) (21.4729, 22.3779) (21.53, 22.3286) (21.5955, 22.2641) (21.6801, 22.0934) (21.7254, 21.9878) (21.7626, 21.6297) (21.728, 21.44) (21.6538, 21.0445) (21.6677, 20.6772) (21.8044, 19.641) (22.0135, 19.0612) (22.097, 18.8298) knots 0 0 0 0 0.078525 0.078525 0.123346 0.123346 0.136441 0.136441 0.149096 0.149096 0.177084 0.177084 0.558526 0.558526 0.807734 0.807734 2.330173 2.330173 3.026337 3.026337 3.902772 3.902772 11.004243 11.004243 24.626338 24.626338 24.626338 24.626338 projected
  arc A19 (22.097, 18.8298) -> (23.1543, 18.6624) centre (25.2, 35) ccw projected
  spline S19 degree 3 poles (23.1543, 18.6624) (23.3148, 18.8691) (23.8727, 19.5873) (24.3305, 20.8721) (24.2841, 21.0177) (24.4032, 21.3755) (24.4532, 21.5014) (24.6329, 21.7271) (24.7231, 21.7824) (24.8456, 21.8531) (24.9353, 21.8725) (25.087, 21.9054) (25.2353, 21.9001) (25.4733, 21.8785) (25.5558, 21.8439) (25.6253, 21.8146) (25.7076, 21.7736) (25.8407, 21.6373) (25.9164, 21.5509) (26.0625, 21.2219) (26.0882, 21.0307) (26.1398, 20.6317) (26.2665, 20.2866) (26.7168, 19.3434) (27.0949, 18.8566) (27.2457, 18.6624) knots 0 0 0 0 0.078525 0.078525 0.123346 0.123346 0.136441 0.136441 0.149096 0.149096 0.177084 0.177084 0.558526 0.558526 0.807734 0.807734 2.330173 2.330173 3.026337 3.026337 3.902772 3.902772 11.004243 11.004243 24.626338 24.626338 24.626338 24.626338 projected
  arc A20 (27.2457, 18.6624) -> (28.303, 18.8298) centre (25.2, 35) ccw projected
  line L27 (8.4, 70) -> (0, 70) projected
  line L28 (0, 0) -> (0, 70) projected
  line L29 (8.4, 0) -> (0, 0) projected
  line L30 (8.4, 0) -> (8.4, 70) projected
  line L31 (8.4617, 50.8598) -> (8.4617, 52.0877)
  line L32 (8.4617, 52.0877) -> (11.5117, 53.1978)
  line L33 (11.5117, 53.1978) -> (11.5117, 54.4621)
  line L34 (11.5117, 54.4621) -> (8.4617, 55.5722)
  line L35 (8.4617, 55.5722) -> (8.4617, 56.8001)
  line L36 (8.4617, 56.8001) -> (11.5117, 57.9102)
  line L37 (11.5117, 57.9102) -> (11.5117, 59.1745)
  line L38 (11.5117, 59.1745) -> (8.4617, 60.2846)
  line L39 (8.4617, 60.2846) -> (8.4617, 61.5125)
  line L40 (8.4617, 61.5125) -> (11.5117, 62.6226)
  line L41 (11.5117, 62.6226) -> (11.5117, 63.8869)
  line L42 (11.5117, 63.8869) -> (8.4617, 64.997)
  line L43 (8.4617, 64.997) -> (8.4617, 66.2249)
  line L44 (8.4617, 66.2249) -> (11.5117, 67.335)
  line L45 (11.5117, 67.335) -> (11.5117, 68.5993)
  line L46 (11.5117, 68.5993) -> (8.4617, 69.7094)
  line L47 (8.4617, 69.7094) -> (8.4617, 70)
  line L48 (8.4617, 70) -> (8.3127, 70)
  line L49 (8.1638, 0) -> (8.3127, 70)
  line L50 (8.4617, 14.3886) -> (11.5117, 15.4988)
  line L51 (11.5117, 15.4988) -> (11.5117, 16.763)
  line L52 (11.5117, 16.763) -> (8.4617, 17.8731)
  line L53 (8.4617, 17.8731) -> (8.4617, 19.101)
  line L54 (8.4617, 9.6763) -> (11.5117, 10.7864)
  line L55 (11.5117, 10.7864) -> (11.5117, 12.0506)
  line L56 (11.5117, 12.0506) -> (8.4617, 13.1608)
  line L57 (8.4617, 13.1608) -> (8.4617, 14.3886)
  line L58 (8.4617, 4.9639) -> (11.5117, 6.074)
  line L59 (11.5117, 6.074) -> (11.5117, 7.3383)
  line L60 (11.5117, 7.3383) -> (8.4617, 8.4484)
  line L61 (8.4617, 8.4484) -> (8.4617, 9.6763)
  line L62 (8.4617, 0.2515) -> (11.5117, 1.3616)
  line L63 (11.5117, 1.3616) -> (11.5117, 2.6259)
  line L64 (11.5117, 2.6259) -> (8.4617, 3.736)
  line L65 (8.4617, 3.736) -> (8.4617, 4.9639)
  line L66 (8.4617, 0.2515) -> (8.4617, 0)
  line L67 (8.4617, 0) -> (8.1638, 0)
  point P0 (50.2, 0)
  point P1 (8.4617, 3.736)
  point P2 (8.4617, 4.9639)
  point P3 (8.4617, 8.4484)
  point P4 (8.4617, 9.6763)
  point P5 (8.4617, 13.1608)
  point P6 (8.4617, 14.3886)
  point P7 (8.4617, 17.8731)
  point P8 (8.4617, 19.101)
  point P9 (8.4617, 22.5855)
  point P10 (8.4617, 23.8134)
  point P11 (8.4617, 27.2979)
  point P12 (8.4617, 28.5258)
  point P13 (8.4617, 32.0103)
  point P14 (8.4617, 33.2382)
  point P15 (8.4617, 36.7227)
  point P16 (8.4617, 37.9506)
  point P17 (8.4617, 41.4351)
  point P18 (8.4617, 42.663)
  point P19 (8.4617, 46.1475)
  point P20 (8.4617, 47.3753)
  point P21 (8.4617, 50.8598)
  point P22 (8.4617, 52.0877)
  point P23 (8.4617, 55.5722)
  point P24 (8.4617, 56.8001)
  point P25 (8.4617, 60.2846)
  point P26 (8.4617, 61.5125)
  point P27 (8.4617, 64.997)
  point P28 (8.4617, 66.2249)
extrude "擠出2" add sketch "草圖2" against normal up to surface (5.9029 mm away) contours L53 L52 L51 L50 L57 L56 L55 L54 L61 L60 L59 L58 L65 L64 L63 L62 L66 L67 L30 L48 L47 L46 L45 L44 L43 L42 L41 L40 L39 L38 L37 L36 L35 L34 L33 L32 L31 L26 L25 L24 L23 L22 L21 L20 L19 L18 L17 L16 L15 L14 L13 L12 L11 L10 L9 L8 L7 L6 L5 L4 L3 L2 L1 L0
sketch "草圖3" plane through (-50.2, 4.01, 0) normal (-1, 0, 0) x (0, 0, 1)
  line L0 (0, 5.9029) -> (-70, 5.9029) projected
  line L1 (0, 5.9029) -> (0, 0) projected
  line L2 (0, 5.9029) -> (-6.6987, 30.9029)
  line L3 (-6.6987, 30.9029) -> (-16.6987, 30.9029)
  line L4 (-16.6987, 30.9029) -> (-16.6987, 5.9029)
  point P0 (0, -4.01)
  dimension "d14" = 75
  dimension "d15" = 10
  dimension "d16" = 25
extrude "擠出3" add sketch "草圖3" against normal blind 50.4
sketch "草圖4" plane through (-50.2, 9.9129, -16.6987) normal (0, 0, -1) x (-1, 0, 0)
  line L0 (0, 25) -> (0, 0) projected
  line L1 (0, 25) -> (-50.4, 25) projected
  line L2 (-50.4, 0) -> (-50.4, 25) projected
  line L3 (-11.5117, 0) -> (-50.4, 0) projected
  line L4 (0, 0) -> (-11.5117, 0) projected
  line L5 (-50.4, 0.3) -> (-11.5117, 0.3)
  line L6 (-11.5117, 0.3) -> (-11.5117, 0)
  point P0 (-50.2, -9.9129)
  dimension "d19" = 0.3
extrude "擠出4" cut sketch "草圖4" against normal blind 50.4 contours L3 L2 L5 L6
sketch "草圖5" plane through (-50.2, 4.01, -70) normal (-1, 0, 0) x (0, 0, 1)
  line L0 (0, 5.9029) -> (0, 0) projected
  line L1 (70, 0) -> (0, 0) projected
  line L2 (70, 5.9029) -> (70, 0) projected
  line L3 (70, 5.9029) -> (63.3013, 30.9029) projected
  line L4 (63.3013, 30.9029) -> (53.3013, 30.9029) projected
  line L5 (53.3013, 30.9029) -> (53.3013, 5.9029) projected
  line L6 (53.3013, 5.9029) -> (0, 5.9029) projected
  point P0 (70, -4.01)
extrude "擠出5" add sketch "草圖5" along normal blind 0.3
properties part number "sg90 claw v2 finger_3D 列印"
